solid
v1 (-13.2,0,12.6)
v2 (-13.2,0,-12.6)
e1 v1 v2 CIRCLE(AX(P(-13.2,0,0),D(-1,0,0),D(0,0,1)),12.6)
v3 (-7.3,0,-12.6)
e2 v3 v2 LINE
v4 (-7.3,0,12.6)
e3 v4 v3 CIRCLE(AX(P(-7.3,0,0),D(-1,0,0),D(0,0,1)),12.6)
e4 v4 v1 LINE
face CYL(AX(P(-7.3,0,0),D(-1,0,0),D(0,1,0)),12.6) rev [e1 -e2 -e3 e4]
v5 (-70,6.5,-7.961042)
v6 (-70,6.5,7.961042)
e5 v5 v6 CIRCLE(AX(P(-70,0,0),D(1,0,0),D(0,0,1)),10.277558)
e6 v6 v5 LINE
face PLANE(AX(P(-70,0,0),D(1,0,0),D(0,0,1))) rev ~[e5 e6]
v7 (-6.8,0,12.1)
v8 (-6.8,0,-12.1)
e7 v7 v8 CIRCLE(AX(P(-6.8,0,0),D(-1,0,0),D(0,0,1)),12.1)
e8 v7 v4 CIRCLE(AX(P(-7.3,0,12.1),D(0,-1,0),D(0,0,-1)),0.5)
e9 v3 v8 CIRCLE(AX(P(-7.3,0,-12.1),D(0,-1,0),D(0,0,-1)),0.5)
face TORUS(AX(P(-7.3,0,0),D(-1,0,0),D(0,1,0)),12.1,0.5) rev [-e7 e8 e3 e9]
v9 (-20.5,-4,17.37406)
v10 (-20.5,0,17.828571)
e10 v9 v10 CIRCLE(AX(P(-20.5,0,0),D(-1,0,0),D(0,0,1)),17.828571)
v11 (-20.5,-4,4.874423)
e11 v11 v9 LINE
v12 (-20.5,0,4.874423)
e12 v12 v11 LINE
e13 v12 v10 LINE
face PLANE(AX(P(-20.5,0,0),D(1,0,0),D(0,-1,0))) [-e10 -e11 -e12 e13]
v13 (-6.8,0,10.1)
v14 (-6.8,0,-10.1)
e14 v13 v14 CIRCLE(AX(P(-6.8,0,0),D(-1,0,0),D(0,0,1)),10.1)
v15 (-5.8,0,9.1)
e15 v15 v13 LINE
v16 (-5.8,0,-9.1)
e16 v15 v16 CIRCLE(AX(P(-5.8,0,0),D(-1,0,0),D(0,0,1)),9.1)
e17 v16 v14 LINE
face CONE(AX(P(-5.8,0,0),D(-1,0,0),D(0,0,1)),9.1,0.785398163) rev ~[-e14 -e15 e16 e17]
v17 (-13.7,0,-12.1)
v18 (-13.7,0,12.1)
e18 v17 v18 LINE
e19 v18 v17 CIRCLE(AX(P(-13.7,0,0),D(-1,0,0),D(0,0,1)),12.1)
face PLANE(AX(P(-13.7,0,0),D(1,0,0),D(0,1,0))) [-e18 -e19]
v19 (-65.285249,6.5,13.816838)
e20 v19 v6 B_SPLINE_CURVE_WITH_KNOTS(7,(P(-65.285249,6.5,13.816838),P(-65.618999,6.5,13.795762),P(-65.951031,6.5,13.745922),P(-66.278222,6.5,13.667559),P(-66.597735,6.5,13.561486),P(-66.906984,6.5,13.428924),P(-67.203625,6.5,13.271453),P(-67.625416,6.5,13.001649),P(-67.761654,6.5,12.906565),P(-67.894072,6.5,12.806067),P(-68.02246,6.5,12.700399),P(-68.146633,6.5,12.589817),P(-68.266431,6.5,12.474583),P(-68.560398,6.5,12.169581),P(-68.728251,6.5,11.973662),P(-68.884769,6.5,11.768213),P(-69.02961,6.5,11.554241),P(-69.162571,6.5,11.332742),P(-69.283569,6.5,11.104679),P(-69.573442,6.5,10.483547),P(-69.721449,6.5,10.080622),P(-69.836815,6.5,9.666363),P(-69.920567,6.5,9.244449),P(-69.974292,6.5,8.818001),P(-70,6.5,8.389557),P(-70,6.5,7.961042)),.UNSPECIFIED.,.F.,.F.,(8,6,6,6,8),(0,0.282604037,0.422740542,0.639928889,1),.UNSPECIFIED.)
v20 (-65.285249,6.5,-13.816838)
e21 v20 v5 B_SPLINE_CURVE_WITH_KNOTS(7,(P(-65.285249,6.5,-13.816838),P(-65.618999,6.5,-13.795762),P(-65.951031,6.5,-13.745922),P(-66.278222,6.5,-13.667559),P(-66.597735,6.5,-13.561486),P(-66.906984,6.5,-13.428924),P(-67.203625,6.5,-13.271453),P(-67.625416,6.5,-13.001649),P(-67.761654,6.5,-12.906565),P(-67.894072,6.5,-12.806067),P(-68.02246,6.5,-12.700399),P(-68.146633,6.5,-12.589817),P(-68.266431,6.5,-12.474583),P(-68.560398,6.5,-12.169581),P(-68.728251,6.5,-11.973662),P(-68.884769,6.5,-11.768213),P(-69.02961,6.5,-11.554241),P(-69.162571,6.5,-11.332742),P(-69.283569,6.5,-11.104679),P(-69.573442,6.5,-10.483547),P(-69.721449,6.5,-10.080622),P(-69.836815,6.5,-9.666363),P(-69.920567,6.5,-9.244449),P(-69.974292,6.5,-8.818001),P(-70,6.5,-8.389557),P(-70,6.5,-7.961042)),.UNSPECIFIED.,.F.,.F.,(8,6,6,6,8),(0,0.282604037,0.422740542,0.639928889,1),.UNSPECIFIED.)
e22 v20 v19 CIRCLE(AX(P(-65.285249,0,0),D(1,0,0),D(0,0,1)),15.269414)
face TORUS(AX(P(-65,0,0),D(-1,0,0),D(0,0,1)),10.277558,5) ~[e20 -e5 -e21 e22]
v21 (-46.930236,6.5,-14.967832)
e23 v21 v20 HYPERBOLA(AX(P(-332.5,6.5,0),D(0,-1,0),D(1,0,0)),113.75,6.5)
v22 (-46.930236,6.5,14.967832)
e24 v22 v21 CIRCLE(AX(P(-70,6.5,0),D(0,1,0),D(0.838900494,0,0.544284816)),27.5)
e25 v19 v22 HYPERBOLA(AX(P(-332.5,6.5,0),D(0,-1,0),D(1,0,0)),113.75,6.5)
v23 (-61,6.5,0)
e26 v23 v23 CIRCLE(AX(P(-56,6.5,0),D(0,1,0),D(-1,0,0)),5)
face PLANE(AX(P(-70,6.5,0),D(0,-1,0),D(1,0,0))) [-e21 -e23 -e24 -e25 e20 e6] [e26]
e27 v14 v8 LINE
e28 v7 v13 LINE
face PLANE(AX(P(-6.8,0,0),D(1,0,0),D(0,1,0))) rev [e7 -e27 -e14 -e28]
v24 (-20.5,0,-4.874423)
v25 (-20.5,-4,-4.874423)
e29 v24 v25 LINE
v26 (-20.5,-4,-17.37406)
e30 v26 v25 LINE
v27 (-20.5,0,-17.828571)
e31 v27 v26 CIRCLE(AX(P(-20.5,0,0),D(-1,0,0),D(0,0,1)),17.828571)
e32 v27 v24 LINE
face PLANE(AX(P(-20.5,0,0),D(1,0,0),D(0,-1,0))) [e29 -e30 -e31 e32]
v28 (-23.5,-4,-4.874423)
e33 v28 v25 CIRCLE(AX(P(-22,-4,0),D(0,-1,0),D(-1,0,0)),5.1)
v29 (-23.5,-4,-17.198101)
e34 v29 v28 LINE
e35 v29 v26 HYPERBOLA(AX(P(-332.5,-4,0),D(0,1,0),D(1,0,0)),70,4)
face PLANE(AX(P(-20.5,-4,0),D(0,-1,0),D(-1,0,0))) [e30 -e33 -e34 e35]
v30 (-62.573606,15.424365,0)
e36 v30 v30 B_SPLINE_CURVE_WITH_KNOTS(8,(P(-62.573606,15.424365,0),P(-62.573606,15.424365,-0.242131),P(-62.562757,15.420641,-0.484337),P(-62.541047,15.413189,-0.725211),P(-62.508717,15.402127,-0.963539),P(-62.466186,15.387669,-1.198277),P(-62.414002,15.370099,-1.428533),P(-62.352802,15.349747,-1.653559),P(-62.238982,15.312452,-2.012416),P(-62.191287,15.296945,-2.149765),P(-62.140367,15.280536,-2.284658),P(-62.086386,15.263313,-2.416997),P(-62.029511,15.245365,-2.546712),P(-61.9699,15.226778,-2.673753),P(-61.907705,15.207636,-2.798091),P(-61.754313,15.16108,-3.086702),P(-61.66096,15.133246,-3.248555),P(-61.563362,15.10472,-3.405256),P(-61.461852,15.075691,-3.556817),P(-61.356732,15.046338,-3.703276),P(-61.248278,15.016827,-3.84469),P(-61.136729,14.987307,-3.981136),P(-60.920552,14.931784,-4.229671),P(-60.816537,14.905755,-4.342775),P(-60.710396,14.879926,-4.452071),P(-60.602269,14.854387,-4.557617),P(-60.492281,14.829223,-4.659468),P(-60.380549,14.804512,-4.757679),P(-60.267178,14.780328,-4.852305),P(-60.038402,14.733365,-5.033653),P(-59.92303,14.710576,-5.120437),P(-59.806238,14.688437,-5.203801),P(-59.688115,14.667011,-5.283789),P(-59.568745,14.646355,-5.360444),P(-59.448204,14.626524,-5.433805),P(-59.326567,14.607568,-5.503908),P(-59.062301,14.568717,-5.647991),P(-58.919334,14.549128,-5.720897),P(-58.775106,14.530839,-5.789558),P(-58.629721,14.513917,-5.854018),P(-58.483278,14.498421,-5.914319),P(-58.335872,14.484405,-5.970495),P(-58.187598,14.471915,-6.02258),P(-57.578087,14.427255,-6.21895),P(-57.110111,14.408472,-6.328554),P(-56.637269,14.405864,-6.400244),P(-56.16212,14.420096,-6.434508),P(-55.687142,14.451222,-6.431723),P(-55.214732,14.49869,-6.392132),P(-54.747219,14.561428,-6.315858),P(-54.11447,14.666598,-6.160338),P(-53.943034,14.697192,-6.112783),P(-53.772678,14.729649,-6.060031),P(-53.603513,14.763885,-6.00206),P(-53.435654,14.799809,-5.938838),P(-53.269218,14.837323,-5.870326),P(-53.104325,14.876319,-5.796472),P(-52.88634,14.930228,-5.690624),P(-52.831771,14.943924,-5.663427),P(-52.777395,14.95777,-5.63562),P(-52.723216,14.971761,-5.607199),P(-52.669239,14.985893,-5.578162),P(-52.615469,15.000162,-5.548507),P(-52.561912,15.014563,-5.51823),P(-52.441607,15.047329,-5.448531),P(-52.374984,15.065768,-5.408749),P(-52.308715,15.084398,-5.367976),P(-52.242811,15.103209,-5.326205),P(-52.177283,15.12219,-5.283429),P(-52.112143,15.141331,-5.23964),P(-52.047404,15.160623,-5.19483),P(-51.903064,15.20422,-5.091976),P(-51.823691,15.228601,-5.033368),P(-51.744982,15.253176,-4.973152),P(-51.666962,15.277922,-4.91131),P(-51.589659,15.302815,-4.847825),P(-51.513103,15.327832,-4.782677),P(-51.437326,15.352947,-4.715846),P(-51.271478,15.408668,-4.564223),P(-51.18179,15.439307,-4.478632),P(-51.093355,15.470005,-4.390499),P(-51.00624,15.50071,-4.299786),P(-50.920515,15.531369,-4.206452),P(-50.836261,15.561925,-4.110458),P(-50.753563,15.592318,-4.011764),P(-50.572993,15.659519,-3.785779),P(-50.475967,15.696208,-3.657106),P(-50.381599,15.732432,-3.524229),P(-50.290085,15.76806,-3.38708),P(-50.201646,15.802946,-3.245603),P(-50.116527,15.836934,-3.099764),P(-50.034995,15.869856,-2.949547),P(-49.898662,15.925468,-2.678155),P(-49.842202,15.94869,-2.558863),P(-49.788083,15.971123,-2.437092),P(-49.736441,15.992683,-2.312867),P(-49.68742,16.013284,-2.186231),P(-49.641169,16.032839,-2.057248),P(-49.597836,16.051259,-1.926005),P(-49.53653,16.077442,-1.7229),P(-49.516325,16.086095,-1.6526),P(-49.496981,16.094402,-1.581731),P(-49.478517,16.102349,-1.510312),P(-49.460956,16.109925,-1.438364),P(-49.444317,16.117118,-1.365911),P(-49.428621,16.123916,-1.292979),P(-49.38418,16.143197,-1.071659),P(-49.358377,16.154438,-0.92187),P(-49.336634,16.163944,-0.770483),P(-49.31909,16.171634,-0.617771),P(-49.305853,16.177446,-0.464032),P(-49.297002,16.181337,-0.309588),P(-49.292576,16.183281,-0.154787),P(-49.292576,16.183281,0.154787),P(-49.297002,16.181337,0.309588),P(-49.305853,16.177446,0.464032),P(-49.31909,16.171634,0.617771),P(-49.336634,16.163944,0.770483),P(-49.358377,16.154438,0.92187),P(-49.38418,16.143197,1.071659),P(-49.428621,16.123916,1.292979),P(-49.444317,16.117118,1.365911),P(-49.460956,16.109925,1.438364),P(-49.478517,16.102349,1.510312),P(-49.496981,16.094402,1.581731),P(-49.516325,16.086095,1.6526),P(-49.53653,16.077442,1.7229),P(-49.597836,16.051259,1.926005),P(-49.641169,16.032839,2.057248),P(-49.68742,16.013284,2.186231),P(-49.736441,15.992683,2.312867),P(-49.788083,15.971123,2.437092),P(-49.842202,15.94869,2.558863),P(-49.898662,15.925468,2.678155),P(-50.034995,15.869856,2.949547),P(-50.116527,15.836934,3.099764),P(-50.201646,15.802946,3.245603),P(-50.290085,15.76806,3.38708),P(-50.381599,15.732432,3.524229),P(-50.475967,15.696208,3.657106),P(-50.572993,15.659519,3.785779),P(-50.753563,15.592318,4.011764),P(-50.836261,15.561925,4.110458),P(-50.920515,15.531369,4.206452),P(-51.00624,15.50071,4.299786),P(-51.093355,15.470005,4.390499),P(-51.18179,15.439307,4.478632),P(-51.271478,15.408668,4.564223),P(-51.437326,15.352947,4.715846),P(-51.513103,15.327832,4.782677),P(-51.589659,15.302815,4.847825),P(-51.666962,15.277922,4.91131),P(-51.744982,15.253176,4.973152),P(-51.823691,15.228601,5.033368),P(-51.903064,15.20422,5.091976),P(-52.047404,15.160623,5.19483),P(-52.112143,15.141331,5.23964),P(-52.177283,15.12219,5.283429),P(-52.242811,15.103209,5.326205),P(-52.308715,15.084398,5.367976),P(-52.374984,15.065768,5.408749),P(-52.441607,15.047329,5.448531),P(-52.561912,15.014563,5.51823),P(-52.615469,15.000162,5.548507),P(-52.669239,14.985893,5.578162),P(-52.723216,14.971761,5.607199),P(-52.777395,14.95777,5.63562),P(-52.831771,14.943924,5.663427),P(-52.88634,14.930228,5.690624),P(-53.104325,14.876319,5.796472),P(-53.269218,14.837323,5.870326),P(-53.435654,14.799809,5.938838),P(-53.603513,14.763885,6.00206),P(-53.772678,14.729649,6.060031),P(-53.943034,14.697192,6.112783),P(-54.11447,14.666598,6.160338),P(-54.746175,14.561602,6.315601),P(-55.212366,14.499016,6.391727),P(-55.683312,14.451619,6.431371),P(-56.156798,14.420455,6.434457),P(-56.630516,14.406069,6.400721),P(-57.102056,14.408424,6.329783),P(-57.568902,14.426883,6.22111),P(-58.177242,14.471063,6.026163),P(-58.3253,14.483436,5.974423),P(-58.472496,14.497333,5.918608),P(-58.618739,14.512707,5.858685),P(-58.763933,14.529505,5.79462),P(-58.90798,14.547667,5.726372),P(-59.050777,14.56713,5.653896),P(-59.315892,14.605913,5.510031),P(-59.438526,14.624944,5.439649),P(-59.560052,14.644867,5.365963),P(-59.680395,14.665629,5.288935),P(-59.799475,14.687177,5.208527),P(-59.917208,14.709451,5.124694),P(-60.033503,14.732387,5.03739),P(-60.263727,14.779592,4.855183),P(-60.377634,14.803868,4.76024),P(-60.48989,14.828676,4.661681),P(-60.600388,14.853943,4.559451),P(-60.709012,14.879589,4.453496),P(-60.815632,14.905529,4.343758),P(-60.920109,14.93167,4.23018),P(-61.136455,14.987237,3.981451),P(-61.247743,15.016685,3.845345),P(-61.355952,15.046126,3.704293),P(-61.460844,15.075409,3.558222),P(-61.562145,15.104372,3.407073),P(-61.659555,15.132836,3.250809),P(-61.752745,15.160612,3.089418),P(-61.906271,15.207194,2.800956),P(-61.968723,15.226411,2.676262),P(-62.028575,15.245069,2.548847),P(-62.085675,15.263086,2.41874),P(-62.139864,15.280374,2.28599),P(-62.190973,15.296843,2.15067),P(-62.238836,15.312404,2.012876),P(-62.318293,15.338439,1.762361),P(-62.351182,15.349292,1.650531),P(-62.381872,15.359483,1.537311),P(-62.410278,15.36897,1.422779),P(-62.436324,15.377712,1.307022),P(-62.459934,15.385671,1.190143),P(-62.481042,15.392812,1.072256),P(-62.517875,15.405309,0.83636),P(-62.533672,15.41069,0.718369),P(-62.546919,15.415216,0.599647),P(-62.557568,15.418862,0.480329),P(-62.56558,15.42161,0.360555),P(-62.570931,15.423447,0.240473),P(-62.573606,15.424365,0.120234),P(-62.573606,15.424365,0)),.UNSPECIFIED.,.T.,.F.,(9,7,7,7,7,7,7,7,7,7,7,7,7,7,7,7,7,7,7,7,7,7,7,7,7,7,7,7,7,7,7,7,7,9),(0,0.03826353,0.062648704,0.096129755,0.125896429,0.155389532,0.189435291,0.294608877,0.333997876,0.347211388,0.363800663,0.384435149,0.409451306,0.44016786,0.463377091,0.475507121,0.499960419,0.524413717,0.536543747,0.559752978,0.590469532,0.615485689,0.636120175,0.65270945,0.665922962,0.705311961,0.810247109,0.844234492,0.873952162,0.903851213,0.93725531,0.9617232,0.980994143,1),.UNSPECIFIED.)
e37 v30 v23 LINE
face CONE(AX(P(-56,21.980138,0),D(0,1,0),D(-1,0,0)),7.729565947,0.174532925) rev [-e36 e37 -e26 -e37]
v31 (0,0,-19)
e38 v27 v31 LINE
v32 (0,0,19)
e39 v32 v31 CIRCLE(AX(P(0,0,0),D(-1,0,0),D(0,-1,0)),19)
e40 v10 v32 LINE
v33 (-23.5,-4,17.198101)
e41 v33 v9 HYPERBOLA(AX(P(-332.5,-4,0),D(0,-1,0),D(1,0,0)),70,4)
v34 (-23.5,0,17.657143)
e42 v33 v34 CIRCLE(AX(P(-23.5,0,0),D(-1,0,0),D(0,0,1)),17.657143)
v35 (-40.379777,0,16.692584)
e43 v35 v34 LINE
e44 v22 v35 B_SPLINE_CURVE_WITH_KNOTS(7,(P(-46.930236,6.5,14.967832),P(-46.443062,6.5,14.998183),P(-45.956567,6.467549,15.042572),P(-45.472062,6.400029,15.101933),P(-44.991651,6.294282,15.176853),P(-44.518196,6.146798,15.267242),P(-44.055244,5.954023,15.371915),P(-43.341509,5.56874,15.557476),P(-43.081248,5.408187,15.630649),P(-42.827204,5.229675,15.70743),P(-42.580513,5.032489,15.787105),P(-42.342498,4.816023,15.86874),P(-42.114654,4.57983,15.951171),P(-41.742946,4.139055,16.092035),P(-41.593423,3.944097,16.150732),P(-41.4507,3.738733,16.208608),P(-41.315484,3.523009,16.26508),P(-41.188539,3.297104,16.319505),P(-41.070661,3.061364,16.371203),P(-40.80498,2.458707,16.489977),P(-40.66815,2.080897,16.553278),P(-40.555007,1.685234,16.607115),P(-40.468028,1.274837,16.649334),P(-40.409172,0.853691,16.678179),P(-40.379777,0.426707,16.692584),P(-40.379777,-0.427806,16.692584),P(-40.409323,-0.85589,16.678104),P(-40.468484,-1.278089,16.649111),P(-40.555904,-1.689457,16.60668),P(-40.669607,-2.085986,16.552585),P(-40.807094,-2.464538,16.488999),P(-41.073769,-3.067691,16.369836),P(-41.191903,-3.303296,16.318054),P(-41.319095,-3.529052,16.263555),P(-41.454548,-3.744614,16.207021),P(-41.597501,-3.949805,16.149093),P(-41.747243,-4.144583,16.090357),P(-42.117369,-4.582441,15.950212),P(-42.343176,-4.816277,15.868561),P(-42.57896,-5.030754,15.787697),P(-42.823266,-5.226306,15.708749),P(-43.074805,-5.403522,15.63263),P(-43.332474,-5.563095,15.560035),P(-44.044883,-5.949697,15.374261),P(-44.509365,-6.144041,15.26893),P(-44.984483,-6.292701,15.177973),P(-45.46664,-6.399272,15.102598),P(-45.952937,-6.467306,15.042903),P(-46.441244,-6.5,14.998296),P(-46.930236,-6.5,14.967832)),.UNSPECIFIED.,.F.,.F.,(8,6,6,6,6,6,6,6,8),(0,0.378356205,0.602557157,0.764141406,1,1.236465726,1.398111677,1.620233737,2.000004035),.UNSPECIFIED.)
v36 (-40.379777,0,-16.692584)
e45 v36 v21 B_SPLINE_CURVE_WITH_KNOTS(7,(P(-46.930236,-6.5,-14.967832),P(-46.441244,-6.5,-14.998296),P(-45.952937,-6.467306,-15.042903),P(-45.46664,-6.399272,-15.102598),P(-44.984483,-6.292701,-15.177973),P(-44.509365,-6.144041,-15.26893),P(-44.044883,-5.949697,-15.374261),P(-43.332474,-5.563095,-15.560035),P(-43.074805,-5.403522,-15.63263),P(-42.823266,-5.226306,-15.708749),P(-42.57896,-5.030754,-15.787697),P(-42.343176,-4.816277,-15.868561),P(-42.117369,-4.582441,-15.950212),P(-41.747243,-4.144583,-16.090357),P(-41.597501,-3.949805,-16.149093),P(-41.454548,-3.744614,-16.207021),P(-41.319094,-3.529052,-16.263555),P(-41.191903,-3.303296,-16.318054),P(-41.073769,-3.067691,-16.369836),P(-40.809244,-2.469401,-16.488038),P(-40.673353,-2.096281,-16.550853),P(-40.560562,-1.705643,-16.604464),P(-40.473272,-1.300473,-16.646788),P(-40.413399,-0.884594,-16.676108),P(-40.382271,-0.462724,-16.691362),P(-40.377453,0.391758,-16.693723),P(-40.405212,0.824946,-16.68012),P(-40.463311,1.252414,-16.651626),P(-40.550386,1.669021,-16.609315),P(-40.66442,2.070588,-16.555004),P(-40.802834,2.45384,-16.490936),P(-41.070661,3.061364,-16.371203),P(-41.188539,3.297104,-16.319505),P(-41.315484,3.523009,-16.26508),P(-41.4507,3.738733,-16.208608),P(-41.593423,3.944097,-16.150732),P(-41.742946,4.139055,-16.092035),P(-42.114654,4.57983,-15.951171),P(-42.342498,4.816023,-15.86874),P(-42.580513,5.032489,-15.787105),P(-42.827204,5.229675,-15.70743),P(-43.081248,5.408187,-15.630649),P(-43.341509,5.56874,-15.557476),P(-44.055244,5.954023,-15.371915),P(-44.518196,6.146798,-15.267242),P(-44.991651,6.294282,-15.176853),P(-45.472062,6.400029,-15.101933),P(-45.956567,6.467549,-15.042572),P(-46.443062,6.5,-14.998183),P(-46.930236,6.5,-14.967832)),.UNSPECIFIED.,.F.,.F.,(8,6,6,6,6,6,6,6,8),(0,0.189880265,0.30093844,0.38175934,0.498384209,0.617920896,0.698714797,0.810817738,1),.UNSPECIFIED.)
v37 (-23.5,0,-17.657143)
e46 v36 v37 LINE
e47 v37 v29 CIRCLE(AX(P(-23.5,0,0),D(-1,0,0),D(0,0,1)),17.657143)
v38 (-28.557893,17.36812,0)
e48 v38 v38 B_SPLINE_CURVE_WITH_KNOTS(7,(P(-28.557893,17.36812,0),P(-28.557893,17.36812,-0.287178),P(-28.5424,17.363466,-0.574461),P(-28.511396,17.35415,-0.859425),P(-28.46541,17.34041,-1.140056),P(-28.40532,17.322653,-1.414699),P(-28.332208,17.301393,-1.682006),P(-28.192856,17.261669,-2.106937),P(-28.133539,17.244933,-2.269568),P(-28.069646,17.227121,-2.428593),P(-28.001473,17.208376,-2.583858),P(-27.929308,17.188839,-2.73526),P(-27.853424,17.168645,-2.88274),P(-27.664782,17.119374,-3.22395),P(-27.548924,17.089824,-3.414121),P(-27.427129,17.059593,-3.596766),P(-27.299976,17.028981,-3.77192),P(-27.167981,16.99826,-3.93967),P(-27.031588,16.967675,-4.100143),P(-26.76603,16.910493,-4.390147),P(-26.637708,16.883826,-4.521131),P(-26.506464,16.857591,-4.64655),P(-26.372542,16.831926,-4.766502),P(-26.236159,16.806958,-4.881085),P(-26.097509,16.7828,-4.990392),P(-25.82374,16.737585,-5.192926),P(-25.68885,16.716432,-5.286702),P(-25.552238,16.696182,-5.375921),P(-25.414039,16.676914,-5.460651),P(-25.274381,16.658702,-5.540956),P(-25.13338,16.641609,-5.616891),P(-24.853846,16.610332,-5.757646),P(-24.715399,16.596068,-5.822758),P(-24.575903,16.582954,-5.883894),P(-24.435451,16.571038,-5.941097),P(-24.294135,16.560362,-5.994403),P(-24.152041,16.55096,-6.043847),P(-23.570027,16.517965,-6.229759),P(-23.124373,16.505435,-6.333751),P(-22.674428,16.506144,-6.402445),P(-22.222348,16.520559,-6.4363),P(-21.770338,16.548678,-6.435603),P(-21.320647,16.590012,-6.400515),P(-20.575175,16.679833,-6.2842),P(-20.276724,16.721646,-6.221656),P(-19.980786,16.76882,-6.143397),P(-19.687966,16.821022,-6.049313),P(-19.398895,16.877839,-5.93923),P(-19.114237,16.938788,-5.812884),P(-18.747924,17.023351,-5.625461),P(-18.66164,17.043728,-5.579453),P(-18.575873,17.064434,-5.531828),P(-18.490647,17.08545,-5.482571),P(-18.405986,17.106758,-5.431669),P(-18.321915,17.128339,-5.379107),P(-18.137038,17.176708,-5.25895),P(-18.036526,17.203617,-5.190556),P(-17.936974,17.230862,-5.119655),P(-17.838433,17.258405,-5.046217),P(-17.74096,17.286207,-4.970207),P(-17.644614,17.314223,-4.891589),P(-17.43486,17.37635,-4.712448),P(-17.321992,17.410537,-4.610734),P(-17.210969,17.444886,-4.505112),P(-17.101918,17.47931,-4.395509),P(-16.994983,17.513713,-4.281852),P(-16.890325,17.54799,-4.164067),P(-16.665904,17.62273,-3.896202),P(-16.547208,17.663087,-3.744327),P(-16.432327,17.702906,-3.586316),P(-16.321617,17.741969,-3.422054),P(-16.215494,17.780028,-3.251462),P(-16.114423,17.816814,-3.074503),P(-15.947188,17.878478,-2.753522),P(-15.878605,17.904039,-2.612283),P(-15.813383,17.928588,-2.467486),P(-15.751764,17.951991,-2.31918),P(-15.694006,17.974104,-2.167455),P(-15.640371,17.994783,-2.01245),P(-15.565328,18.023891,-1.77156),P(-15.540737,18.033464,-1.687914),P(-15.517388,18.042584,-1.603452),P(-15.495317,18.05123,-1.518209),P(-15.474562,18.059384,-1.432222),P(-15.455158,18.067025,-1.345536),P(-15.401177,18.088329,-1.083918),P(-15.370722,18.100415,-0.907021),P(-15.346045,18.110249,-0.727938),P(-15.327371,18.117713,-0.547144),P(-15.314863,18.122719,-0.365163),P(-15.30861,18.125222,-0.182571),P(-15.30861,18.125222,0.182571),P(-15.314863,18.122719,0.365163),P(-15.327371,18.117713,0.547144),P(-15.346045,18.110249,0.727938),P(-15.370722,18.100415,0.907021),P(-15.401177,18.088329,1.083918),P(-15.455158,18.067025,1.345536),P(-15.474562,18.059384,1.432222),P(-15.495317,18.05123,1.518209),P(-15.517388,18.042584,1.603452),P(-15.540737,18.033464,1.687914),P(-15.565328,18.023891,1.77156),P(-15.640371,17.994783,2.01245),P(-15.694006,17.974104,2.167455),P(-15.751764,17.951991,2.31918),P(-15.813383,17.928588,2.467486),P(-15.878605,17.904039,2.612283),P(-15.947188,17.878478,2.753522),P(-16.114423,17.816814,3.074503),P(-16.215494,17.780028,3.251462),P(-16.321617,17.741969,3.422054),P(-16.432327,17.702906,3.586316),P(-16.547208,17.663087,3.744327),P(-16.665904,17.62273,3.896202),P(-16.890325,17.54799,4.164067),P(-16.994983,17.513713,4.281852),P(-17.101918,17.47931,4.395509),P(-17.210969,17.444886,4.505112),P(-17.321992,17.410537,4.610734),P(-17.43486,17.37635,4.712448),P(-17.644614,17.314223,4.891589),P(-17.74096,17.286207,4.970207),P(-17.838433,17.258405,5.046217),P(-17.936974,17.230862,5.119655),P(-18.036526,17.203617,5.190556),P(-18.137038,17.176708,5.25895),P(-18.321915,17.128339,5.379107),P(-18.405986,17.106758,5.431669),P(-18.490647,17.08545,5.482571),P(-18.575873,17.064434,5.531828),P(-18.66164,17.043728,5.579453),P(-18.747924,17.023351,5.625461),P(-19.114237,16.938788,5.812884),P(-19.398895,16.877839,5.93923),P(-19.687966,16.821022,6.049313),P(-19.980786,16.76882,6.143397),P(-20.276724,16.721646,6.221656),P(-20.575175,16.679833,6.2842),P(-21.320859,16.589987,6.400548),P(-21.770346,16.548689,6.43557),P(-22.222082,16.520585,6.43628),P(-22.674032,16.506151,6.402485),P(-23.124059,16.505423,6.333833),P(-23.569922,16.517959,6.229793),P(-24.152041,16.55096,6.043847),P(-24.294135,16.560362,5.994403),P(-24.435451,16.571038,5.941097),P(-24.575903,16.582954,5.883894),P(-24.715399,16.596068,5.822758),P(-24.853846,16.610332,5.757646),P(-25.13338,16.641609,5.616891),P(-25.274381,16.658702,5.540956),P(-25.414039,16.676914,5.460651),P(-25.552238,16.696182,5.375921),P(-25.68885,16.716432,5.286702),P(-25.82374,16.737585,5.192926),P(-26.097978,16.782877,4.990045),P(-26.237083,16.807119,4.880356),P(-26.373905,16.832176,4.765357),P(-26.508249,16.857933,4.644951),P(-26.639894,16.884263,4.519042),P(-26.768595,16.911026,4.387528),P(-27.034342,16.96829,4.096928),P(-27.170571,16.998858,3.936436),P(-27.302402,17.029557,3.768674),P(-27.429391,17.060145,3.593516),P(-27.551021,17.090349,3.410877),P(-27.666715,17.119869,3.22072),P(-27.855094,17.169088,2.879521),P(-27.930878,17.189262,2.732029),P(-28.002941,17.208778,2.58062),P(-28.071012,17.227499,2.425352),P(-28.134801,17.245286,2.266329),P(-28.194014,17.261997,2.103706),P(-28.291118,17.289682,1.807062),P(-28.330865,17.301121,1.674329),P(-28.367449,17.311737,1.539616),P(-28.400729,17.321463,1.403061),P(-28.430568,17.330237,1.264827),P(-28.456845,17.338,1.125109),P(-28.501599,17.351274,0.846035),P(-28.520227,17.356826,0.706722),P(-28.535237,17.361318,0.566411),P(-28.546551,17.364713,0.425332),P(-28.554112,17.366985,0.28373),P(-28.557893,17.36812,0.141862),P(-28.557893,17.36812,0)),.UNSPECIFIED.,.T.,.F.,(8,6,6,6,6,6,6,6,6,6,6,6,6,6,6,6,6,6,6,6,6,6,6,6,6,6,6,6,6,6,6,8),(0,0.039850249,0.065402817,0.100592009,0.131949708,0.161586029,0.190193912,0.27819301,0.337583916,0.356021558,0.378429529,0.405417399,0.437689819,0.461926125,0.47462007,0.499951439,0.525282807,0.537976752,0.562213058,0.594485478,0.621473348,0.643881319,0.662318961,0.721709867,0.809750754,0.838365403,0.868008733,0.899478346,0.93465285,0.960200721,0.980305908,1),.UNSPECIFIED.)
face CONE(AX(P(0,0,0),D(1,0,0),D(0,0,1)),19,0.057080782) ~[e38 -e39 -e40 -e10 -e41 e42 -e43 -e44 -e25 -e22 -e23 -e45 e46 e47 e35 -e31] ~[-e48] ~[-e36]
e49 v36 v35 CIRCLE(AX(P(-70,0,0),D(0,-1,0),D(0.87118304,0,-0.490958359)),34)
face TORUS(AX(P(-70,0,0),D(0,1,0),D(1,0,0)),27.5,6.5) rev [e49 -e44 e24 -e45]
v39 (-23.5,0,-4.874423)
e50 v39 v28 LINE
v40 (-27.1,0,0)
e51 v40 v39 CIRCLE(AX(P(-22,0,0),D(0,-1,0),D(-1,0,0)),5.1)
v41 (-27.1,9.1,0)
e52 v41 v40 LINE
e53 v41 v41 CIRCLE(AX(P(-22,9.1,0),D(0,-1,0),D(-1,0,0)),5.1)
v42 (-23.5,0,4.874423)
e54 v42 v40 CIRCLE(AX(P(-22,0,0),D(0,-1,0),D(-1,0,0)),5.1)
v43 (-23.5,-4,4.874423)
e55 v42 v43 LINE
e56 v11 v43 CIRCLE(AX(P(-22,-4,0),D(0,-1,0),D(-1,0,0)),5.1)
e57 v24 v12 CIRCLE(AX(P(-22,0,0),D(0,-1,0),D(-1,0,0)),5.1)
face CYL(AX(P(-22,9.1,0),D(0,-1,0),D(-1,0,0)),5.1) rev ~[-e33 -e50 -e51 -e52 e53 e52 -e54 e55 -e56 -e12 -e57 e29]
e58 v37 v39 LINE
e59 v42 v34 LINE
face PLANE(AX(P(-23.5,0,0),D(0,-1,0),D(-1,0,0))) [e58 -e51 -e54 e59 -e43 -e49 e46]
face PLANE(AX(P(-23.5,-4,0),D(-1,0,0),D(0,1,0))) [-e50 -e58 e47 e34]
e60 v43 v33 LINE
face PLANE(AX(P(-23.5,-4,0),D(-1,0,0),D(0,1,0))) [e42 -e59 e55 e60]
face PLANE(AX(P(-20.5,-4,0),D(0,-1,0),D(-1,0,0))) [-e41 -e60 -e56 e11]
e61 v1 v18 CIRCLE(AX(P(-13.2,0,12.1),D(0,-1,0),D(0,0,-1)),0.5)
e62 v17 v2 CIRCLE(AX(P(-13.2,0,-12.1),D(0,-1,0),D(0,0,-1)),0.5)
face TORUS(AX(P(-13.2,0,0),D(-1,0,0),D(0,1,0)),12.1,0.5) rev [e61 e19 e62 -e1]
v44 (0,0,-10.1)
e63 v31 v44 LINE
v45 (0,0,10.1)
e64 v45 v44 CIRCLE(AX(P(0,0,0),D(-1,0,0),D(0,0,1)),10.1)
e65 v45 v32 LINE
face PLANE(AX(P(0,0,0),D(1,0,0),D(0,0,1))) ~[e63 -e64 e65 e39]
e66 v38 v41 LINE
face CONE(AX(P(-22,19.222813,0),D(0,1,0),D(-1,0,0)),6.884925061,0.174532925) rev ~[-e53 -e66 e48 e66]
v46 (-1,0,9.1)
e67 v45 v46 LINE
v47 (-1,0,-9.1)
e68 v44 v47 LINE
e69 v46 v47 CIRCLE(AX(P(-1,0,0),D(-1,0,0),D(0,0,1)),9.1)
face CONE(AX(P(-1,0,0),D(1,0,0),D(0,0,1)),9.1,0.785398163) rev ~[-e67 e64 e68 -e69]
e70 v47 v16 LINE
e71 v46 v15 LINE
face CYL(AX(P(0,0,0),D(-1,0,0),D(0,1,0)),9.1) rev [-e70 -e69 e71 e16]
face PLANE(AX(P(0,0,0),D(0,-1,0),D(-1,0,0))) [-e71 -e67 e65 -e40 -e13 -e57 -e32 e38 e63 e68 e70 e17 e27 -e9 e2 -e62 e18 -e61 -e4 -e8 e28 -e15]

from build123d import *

# Parameters (mm, degrees)
F2_R          = 5
F6_DEPTH      = 19.0010001
F6_DEPTH_BACK = 19.0010001
F13_SIZE      = 1


with BuildPart() as f1:
    # F0 (on Front) → F1 (revolve)
    with BuildSketch(Plane.XZ):
        Polygon((0, 0), (0, 19), (-70, 15), (-70, 0), align=None)
    revolve(axis=Axis((-35, 0, 0), (1, 0, 0)))

    # F2
    f2_edges = [f1.edges().sort_by_distance(p)[0] for p in [
        (-70, 0, -15),
    ]]
    fillet(f2_edges, radius=F2_R)

    # F3 (on Top) → F4 (revolve, cut)
    with BuildSketch(Plane.XY):
        with BuildLine():
            Line((-42.5, 6.5), (-70, 6.5))
            Line((-70, 6.5), (-70, -6.5))
            Line((-70, -6.5), (-42.5, -6.5))
            ThreePointArc((-42.5, -6.5), (-36, 0), (-42.5, 6.5))
        make_face()
    revolve(axis=Axis((-70, 10.4297241849, 0), (0, -1, 0)), mode=Mode.SUBTRACT)

    # F5 (on Top) → F6 (cut, two sides)
    with BuildSketch(Plane.XY) as f6_sk:
        Polygon((-23.5, 0), (-70, 0), (-70, -19), (0, -19), (0, 0), (-20.5, 0), (-20.5, -4), (-23.5, -4), align=None)
    extrude(amount=-F6_DEPTH, mode=Mode.SUBTRACT)
    extrude(f6_sk.sketch, amount=F6_DEPTH_BACK, mode=Mode.SUBTRACT)

    # F7 (on Top) → F8 (revolve, cut)
    with BuildSketch(Plane.XY):
        with BuildLine():
            Line((-13.7, 0), (0, 0))
            Line((0, 0), (0, 9.1))
            Line((0, 9.1), (-6.8, 9.1))
            Line((-6.8, 9.1), (-6.8, 12.1))
            ThreePointArc((-6.8, 12.1), (-6.9464466094, 12.4535533906), (-7.3, 12.6))
            Line((-7.3, 12.6), (-13.2, 12.6))
            ThreePointArc((-13.2, 12.6), (-13.5535533906, 12.4535533906), (-13.7, 12.1))
            Line((-13.7, 12.1), (-13.7, 0))
        make_face()
    revolve(axis=Axis((-6.85, 0, 0), (1, 0, 0)), mode=Mode.SUBTRACT)

    # F9 (on Top) → F10 (revolve, cut)
    with BuildSketch(Plane.XY):
        Polygon((-22, 19.2228130501), (-28.8849250614, 19.2228130501), (-27.1, 9.1), (-27.1, -4), (-22, -4), align=None)
    revolve(axis=Axis((-22, 7.6114065251, 0), (0, -1, 0)), mode=Mode.SUBTRACT)

    # F11 (on Top) → F12 (revolve, cut)
    with BuildSketch(Plane.XY):
        Polygon((-56, 6.5), (-56, 21.9801377317), (-63.7295659472, 21.9801377317), (-61, 6.5), align=None)
    revolve(axis=Axis((-56, 14.2400688658, 0), (0, 1, 0)), mode=Mode.SUBTRACT)

    # F13
    f13_edges = [f1.edges().sort_by_distance(p)[0] for p in [
        (-6.8, 9.1, 0),
        (0, 9.1, 0),
    ]]
    chamfer(f13_edges, length=F13_SIZE)


solid = f1.part
